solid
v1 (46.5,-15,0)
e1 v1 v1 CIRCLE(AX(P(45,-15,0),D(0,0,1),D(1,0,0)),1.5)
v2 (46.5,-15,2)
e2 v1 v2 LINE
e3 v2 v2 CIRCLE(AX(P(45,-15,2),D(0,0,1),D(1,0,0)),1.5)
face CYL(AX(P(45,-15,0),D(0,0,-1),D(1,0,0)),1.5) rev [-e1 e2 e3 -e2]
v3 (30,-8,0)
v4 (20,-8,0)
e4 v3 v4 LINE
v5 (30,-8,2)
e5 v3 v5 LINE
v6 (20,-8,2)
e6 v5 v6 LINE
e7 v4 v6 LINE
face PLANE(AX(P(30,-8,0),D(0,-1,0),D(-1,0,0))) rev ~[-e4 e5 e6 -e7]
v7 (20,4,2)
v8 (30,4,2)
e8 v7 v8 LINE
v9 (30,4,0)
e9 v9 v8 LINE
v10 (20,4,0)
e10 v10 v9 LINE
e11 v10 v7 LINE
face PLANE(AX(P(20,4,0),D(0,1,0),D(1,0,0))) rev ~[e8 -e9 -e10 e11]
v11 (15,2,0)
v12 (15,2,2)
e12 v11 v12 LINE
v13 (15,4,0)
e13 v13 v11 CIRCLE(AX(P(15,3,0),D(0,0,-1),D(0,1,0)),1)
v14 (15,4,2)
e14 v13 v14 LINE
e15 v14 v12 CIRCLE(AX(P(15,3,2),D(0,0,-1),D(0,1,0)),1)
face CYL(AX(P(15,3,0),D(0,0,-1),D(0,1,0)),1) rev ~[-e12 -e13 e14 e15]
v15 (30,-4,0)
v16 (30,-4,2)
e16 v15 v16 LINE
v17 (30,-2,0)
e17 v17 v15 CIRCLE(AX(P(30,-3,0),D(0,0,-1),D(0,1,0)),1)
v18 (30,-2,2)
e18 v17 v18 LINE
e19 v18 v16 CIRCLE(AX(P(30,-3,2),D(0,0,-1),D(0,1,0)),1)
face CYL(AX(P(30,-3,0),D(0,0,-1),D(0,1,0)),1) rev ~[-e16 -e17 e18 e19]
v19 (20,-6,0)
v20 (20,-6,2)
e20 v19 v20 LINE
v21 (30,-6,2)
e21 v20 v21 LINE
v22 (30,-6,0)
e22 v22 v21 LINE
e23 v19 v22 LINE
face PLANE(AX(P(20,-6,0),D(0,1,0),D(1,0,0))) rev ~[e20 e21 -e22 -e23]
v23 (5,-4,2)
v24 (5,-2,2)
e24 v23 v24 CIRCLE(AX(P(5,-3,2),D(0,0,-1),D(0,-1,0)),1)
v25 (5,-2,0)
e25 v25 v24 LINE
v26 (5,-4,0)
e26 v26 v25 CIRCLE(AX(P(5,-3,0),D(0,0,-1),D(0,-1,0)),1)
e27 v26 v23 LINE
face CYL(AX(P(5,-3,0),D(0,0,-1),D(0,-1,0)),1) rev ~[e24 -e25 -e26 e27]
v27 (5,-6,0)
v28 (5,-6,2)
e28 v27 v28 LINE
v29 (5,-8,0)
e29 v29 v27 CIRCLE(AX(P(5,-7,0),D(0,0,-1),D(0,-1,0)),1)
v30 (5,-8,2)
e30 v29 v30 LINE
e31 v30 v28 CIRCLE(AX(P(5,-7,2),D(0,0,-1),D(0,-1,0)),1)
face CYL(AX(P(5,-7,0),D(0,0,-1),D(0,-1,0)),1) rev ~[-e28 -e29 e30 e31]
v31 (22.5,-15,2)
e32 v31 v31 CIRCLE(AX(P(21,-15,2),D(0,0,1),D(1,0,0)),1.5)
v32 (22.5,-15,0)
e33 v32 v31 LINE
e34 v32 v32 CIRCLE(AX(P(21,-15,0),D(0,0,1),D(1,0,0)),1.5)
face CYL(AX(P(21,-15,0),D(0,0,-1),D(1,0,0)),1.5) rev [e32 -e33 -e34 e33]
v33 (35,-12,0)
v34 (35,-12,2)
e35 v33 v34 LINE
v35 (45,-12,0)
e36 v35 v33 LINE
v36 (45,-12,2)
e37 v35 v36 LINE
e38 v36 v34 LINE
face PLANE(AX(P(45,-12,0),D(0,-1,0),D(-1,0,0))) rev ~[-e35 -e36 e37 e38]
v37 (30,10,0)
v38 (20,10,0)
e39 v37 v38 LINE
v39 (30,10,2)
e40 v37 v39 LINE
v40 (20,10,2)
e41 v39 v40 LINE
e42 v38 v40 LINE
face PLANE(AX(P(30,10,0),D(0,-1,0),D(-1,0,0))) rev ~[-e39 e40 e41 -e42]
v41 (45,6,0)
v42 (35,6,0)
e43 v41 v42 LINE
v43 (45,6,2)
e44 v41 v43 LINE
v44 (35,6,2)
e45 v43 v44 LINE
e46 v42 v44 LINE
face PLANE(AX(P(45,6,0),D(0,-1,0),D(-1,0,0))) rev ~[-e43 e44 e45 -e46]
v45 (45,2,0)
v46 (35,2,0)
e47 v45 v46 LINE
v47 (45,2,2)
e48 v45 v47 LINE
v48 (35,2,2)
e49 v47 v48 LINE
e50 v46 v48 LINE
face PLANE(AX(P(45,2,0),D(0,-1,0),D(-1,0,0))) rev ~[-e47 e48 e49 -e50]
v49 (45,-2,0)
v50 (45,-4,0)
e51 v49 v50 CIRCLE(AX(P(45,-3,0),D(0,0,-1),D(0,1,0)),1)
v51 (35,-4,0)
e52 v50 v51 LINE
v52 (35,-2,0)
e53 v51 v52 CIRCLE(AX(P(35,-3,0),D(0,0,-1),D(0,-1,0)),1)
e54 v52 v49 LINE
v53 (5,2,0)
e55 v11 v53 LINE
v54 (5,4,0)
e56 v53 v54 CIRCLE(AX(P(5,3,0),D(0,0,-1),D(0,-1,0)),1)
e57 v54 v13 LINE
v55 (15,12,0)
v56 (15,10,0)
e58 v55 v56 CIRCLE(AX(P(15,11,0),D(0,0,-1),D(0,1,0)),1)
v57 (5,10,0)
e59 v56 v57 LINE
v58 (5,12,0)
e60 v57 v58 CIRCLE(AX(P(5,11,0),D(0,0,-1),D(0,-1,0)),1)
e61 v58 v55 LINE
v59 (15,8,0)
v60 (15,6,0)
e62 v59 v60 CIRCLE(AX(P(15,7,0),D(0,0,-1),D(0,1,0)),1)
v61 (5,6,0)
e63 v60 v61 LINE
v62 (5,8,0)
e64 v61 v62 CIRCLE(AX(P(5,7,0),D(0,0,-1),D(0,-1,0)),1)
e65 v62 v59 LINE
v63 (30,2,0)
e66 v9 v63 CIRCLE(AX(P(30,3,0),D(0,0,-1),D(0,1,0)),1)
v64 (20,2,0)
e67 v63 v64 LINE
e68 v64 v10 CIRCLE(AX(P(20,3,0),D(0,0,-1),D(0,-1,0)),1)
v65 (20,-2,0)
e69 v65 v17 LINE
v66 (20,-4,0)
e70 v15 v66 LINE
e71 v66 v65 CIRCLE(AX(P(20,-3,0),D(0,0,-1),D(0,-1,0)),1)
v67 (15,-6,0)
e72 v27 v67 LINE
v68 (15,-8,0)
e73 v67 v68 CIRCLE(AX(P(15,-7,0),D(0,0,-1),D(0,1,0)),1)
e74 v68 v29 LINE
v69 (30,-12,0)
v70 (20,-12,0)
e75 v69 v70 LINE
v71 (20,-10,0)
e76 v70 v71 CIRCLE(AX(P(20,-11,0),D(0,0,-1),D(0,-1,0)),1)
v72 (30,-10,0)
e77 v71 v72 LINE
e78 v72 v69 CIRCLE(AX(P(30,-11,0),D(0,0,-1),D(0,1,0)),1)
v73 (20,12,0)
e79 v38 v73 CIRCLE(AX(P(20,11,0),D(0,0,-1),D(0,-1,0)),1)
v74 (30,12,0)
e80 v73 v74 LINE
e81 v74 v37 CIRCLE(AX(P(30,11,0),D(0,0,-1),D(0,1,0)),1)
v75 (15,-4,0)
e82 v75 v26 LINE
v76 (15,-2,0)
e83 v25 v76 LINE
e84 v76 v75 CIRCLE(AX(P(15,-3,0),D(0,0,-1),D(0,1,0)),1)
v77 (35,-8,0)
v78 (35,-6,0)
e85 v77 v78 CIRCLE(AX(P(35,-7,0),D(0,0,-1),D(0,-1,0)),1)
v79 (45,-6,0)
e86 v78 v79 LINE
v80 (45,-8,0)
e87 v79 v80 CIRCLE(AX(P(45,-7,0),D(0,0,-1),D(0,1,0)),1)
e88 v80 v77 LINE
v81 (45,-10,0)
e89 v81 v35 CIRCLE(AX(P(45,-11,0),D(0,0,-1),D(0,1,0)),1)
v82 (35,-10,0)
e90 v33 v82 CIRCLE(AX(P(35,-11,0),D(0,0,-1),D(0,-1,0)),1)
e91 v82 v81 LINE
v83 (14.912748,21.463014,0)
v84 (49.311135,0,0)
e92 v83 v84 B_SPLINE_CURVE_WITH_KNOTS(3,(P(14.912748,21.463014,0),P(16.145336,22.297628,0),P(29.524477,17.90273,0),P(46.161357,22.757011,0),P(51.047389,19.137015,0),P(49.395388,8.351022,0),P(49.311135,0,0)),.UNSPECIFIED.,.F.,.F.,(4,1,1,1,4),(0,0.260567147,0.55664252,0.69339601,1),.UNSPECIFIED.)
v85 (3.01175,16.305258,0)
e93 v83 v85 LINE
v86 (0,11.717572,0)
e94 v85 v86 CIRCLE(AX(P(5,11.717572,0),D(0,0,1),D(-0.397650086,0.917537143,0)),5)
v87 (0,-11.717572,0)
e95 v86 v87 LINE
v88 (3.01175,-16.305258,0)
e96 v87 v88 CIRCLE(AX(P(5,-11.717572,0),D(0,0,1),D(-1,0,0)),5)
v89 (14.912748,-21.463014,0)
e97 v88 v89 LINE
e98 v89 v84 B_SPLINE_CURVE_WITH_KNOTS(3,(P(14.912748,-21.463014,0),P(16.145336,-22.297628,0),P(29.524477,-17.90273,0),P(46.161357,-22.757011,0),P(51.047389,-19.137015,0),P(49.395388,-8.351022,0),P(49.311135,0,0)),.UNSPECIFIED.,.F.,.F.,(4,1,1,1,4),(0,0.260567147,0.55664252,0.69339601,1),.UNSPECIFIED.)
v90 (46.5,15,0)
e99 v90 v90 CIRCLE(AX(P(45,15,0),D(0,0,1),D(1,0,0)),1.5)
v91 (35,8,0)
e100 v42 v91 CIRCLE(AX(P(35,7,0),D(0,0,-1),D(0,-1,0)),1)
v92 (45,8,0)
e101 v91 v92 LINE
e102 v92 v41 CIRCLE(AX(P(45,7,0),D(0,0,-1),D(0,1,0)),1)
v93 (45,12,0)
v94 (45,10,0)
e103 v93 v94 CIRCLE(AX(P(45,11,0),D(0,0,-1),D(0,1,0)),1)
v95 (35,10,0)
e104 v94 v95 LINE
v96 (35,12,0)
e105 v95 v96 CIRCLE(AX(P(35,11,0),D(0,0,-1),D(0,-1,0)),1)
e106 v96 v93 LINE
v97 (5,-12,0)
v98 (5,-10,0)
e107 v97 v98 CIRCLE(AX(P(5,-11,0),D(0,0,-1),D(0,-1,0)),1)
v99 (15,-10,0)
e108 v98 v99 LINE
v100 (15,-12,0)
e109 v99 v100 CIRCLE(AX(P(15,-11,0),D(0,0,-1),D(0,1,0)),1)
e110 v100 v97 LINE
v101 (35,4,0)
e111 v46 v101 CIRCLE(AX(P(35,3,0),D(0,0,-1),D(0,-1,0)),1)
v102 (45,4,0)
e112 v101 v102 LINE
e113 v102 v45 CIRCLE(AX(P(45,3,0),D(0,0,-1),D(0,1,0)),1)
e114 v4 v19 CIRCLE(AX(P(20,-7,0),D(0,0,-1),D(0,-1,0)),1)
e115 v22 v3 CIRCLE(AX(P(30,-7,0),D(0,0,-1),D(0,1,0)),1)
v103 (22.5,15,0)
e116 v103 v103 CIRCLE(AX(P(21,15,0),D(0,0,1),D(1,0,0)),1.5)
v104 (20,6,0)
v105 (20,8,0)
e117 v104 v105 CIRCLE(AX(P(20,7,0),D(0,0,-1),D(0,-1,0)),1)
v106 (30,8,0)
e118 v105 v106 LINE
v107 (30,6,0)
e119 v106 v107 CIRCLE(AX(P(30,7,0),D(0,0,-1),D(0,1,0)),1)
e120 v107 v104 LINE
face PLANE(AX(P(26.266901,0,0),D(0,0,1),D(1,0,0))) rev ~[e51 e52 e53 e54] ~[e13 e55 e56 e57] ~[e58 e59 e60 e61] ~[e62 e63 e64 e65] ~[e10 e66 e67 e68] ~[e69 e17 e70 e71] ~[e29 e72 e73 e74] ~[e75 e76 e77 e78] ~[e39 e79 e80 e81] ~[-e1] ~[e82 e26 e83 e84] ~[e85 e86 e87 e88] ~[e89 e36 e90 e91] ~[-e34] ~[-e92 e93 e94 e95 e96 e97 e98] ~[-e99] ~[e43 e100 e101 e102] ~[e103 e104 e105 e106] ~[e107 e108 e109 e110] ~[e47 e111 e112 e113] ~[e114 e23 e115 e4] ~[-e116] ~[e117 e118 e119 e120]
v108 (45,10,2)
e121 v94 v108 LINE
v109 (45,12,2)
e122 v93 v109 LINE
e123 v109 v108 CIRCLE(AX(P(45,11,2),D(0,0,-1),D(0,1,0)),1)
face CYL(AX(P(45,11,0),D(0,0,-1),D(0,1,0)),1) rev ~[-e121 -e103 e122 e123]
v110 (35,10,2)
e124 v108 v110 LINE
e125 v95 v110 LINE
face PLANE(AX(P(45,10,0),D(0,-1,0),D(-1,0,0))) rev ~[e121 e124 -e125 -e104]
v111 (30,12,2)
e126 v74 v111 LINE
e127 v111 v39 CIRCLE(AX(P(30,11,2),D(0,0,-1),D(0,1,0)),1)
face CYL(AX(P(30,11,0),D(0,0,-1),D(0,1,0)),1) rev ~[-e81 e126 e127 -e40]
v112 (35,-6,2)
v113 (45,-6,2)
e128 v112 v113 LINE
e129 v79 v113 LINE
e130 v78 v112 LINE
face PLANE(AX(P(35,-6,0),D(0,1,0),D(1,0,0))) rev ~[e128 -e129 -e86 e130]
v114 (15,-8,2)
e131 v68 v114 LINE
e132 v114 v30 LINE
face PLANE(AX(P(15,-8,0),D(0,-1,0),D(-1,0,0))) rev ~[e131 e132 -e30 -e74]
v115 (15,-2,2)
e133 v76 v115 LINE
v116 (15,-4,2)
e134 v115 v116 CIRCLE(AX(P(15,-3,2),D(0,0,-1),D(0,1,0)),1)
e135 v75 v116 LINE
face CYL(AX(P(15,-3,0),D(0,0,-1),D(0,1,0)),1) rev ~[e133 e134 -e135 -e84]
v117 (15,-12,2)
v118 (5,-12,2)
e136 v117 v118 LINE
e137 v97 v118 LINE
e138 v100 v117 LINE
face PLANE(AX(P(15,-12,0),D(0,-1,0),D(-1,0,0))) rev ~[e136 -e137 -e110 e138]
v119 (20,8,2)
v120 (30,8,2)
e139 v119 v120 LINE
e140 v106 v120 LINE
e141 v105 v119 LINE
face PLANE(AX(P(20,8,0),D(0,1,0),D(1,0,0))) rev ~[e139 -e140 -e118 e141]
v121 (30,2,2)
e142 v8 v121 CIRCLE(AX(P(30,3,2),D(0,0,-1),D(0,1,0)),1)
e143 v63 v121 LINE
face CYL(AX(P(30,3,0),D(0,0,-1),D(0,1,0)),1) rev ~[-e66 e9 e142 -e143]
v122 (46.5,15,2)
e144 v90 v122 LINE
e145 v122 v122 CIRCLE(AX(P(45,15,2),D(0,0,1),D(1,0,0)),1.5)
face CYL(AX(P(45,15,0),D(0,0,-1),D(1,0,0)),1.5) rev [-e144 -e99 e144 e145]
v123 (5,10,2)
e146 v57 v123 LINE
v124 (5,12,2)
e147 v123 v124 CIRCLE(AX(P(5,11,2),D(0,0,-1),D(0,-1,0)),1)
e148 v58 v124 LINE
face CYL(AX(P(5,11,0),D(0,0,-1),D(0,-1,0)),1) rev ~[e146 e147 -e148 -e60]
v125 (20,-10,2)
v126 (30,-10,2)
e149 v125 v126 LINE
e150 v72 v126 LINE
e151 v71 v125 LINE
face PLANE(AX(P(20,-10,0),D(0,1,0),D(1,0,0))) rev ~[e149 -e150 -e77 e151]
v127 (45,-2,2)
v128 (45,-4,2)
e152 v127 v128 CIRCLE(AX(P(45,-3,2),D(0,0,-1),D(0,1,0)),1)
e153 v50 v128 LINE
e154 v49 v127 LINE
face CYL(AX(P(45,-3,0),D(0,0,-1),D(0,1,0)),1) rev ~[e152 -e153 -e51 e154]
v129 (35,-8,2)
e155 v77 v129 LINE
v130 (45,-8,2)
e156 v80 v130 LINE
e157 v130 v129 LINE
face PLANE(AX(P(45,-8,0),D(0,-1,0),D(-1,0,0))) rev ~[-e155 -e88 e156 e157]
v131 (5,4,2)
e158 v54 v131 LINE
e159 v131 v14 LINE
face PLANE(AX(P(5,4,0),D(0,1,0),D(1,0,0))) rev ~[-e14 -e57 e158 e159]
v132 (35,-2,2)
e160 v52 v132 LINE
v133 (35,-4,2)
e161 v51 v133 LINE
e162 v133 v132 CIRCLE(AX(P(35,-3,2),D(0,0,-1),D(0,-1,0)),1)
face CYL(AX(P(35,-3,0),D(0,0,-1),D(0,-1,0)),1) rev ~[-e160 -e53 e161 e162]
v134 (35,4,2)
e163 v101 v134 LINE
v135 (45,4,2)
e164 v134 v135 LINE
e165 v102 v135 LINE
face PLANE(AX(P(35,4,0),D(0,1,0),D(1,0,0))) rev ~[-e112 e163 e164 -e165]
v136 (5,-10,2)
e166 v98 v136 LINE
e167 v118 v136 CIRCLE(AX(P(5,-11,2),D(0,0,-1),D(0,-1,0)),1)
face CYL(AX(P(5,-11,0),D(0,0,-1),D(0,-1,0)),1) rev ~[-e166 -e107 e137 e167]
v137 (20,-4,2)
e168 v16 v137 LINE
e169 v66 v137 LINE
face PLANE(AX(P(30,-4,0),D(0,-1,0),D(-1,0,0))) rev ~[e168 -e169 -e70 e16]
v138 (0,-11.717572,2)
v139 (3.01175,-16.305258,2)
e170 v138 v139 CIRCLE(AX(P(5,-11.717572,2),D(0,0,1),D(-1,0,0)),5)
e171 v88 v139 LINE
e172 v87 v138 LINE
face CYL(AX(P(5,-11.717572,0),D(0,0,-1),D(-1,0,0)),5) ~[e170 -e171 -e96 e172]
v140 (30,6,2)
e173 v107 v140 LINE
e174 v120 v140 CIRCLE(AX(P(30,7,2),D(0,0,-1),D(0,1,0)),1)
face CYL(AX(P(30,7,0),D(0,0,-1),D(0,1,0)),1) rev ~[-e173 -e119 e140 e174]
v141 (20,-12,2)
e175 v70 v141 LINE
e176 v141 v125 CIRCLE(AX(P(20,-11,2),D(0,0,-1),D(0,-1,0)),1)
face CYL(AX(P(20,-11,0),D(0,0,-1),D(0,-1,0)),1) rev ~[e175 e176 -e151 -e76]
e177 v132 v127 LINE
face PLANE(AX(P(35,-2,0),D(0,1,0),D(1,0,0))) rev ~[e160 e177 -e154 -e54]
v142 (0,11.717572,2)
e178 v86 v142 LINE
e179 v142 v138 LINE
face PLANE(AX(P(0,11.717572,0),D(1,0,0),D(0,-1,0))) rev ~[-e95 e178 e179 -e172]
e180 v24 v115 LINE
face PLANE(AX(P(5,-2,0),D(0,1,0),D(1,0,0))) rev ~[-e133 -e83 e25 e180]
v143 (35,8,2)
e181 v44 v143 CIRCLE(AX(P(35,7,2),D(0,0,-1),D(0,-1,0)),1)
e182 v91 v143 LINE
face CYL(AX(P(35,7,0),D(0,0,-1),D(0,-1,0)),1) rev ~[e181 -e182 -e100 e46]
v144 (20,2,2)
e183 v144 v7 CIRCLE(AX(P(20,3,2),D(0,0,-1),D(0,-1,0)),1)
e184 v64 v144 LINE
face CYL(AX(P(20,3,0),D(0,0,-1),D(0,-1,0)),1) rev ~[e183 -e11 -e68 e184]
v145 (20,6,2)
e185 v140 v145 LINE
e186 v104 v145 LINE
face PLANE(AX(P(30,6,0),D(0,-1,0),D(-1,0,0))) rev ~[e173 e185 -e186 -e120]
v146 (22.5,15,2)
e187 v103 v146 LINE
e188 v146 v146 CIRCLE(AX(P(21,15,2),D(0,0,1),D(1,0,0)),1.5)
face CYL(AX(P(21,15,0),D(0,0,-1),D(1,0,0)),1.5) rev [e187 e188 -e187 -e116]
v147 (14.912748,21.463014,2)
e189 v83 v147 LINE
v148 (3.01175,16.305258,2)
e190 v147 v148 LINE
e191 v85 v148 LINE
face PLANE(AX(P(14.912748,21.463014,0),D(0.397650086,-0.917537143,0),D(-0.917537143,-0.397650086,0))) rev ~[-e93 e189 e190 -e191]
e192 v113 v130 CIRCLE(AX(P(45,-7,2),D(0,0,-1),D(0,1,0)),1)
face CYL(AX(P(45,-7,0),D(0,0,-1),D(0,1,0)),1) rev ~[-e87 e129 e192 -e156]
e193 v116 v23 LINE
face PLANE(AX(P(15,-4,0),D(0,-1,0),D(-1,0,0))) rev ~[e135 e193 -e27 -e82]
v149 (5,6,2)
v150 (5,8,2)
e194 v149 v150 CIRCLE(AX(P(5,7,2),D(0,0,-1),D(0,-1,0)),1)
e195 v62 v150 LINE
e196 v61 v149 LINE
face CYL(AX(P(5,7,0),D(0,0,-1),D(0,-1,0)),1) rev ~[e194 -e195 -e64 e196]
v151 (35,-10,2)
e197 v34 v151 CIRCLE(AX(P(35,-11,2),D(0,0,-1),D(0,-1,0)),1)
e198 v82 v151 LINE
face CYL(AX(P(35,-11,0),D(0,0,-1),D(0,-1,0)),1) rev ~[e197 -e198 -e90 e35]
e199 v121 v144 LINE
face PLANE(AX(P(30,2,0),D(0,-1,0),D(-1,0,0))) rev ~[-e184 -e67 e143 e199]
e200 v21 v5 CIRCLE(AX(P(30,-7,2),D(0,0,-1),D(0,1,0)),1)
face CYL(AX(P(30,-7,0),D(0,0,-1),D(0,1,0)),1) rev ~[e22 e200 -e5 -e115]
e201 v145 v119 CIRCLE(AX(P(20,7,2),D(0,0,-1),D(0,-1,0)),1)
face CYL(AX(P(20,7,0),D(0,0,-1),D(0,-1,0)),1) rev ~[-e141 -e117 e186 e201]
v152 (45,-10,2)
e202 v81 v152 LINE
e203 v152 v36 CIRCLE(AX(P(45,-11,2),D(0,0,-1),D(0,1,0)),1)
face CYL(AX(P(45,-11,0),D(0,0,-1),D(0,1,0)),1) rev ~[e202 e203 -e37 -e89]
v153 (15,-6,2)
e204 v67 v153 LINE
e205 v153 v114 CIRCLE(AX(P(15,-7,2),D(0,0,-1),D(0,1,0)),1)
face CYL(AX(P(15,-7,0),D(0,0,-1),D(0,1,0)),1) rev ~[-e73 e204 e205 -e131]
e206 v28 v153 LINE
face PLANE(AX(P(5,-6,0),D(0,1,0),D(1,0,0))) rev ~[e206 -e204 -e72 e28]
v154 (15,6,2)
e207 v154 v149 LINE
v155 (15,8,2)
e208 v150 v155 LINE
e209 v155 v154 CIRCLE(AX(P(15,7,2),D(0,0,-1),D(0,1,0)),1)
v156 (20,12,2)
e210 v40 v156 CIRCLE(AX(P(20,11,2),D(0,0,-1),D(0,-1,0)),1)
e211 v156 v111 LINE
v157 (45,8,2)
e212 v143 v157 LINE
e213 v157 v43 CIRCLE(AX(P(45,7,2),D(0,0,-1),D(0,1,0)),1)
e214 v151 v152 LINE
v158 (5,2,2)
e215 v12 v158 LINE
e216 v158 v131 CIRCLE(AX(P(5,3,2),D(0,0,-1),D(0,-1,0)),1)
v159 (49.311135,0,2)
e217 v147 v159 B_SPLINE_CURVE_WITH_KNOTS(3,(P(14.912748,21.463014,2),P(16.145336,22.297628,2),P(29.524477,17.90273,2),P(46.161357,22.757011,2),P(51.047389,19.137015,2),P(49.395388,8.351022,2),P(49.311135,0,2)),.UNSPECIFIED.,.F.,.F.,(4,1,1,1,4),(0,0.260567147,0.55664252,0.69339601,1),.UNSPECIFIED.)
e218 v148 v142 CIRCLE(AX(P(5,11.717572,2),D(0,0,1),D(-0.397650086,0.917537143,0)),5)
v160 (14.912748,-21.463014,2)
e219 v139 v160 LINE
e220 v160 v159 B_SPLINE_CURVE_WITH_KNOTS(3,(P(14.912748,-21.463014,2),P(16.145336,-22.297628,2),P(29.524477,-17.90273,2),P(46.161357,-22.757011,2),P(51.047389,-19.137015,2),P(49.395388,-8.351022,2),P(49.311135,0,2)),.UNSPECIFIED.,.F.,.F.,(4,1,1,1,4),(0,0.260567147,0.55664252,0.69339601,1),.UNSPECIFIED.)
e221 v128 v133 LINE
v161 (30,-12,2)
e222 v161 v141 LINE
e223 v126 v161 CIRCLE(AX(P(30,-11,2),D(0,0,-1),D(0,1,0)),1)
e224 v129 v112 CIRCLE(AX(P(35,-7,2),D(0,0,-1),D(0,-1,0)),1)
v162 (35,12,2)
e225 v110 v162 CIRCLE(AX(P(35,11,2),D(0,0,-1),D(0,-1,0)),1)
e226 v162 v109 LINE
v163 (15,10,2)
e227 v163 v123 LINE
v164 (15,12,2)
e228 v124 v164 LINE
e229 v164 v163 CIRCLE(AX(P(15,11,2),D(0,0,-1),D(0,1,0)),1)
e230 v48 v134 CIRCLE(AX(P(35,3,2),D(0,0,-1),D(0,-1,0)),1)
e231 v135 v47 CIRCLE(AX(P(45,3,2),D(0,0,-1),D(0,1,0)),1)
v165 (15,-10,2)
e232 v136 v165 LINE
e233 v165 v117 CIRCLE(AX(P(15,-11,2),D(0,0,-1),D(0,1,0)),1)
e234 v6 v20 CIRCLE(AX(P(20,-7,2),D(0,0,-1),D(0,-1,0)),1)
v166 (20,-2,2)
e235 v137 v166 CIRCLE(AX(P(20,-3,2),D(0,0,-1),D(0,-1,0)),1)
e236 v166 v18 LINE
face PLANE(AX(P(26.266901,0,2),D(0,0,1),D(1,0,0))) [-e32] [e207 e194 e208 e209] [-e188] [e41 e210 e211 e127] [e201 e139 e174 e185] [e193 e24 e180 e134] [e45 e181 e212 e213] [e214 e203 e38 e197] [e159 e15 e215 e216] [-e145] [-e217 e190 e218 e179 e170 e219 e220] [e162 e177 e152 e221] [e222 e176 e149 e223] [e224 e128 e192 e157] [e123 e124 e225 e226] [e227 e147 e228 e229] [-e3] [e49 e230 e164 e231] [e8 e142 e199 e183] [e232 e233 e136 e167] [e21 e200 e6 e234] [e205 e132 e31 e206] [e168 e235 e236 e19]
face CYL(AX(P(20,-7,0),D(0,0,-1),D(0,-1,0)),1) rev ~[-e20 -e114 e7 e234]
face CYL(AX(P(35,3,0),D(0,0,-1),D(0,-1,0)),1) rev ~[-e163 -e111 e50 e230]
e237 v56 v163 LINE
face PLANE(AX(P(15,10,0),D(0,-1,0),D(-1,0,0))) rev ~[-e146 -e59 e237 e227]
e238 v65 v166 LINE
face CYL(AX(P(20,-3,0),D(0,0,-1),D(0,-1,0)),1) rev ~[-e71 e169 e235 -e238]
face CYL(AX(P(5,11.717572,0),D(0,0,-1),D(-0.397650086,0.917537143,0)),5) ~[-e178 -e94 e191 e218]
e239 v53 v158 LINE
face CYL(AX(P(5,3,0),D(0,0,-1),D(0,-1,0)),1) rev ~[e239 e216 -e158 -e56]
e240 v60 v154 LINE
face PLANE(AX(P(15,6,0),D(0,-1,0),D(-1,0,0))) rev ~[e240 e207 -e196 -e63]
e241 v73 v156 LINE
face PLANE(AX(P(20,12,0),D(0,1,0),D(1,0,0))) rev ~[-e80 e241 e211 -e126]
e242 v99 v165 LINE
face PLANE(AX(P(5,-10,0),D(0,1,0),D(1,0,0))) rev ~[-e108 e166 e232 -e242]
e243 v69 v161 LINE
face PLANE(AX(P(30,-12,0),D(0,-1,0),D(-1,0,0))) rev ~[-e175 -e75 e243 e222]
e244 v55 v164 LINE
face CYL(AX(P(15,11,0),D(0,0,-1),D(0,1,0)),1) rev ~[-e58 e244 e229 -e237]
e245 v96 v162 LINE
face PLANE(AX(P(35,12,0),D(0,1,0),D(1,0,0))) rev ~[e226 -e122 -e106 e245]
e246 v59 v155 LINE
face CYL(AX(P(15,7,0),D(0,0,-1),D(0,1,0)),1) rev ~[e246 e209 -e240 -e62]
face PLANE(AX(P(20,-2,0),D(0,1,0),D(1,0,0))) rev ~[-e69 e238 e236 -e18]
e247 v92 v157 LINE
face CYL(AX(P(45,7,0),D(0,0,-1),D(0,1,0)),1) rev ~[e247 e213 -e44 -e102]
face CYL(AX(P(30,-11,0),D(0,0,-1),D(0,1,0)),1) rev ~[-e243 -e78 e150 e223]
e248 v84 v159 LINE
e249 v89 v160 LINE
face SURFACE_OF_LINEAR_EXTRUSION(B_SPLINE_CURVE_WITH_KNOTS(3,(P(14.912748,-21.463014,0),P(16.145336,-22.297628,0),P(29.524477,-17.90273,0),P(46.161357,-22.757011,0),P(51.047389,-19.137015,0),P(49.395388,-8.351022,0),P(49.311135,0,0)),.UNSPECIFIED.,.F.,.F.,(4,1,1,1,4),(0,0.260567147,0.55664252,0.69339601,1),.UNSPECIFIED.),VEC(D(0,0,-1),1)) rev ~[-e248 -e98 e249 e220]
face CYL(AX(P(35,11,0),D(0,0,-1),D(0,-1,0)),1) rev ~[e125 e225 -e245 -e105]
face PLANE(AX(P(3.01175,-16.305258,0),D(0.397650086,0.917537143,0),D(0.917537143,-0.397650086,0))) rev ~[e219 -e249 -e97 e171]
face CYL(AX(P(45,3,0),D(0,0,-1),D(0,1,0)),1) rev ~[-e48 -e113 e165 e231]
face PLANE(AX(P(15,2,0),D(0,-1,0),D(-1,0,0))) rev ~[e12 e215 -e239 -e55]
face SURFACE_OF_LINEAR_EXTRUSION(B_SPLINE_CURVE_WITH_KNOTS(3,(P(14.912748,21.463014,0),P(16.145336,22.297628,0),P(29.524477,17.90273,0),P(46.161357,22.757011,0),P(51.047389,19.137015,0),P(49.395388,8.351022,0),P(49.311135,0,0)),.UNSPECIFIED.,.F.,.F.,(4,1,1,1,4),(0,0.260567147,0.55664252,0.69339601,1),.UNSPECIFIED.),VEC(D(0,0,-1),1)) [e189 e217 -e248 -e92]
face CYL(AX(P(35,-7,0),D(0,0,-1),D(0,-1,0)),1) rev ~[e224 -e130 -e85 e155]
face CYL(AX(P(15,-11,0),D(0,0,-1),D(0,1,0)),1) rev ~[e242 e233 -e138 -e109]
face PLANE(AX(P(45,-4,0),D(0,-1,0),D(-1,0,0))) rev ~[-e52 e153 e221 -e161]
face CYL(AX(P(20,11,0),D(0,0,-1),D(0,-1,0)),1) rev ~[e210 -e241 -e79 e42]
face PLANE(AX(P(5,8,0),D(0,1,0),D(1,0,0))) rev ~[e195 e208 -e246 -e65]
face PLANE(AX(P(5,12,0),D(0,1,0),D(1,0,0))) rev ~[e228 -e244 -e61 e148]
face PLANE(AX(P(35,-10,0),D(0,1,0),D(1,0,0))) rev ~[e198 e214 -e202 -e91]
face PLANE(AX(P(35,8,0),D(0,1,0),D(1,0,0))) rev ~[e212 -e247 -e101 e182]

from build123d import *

# Parameters (mm, degrees)
F0_R     = 1.5
F1_DEPTH = 2


with BuildPart() as f1:
    # F0 (on Top) → F1 (new body)
    with BuildSketch(Plane.XY):
        with BuildLine():
            Line((0, 11.7175720427), (0, 0))
            Line((0, 0), (0, -11.7175720427))
            ThreePointArc((0, -11.7175720427), (0.8202121976, -14.4615425103), (3.0117495709, -16.3052577589))
            Line((3.0117495709, -16.3052577589), (14.9127481269, -21.4630141854))
            add(Edge.make_bspline(
                [(14.9127481269, -21.4630141854), (16.1453362968, -22.2976284899), (29.5244774137, -17.90273041), (46.1613565745, -22.7570107884), (51.0473894194, -19.1370147499), (49.3953875501, -8.3510216523), (49.3111349642, 0)],
                knots=[0, 0, 0, 0, 0.260567147, 0.5566425204, 0.6933960099, 1, 1, 1, 1], degree=3))
            add(Edge.make_bspline(
                [(14.9127481269, 21.4630141854), (16.1453362968, 22.2976284899), (29.5244774137, 17.90273041), (46.1613565745, 22.7570107884), (51.0473894194, 19.1370147499), (49.3953875501, 8.3510216523), (49.3111349642, 0)],
                knots=[0, 0, 0, 0, 0.260567147, 0.5566425204, 0.6933960099, 1, 1, 1, 1], degree=3))
            Line((14.9127481269, 21.4630141854), (3.0117495709, 16.3052577589))
            ThreePointArc((3.0117495709, 16.3052577589), (0.8202121976, 14.4615425103), (0, 11.7175720427))
        make_face()
        with Locations((21, -15)):
            Circle(F0_R, mode=Mode.SUBTRACT)
        with BuildLine():
            Line((15, -12), (5, -12))
            ThreePointArc((5, -12), (4, -11), (5, -10))
            Line((5, -10), (15, -10))
            ThreePointArc((15, -10), (16, -11), (15, -12))
        make_face(mode=Mode.SUBTRACT)
        with BuildLine():
            Line((15, -8), (5, -8))
            ThreePointArc((5, -8), (4, -7), (5, -6))
            Line((5, -6), (15, -6))
            ThreePointArc((15, -6), (16, -7), (15, -8))
        make_face(mode=Mode.SUBTRACT)
        with BuildLine():
            Line((15, -4), (5, -4))
            ThreePointArc((5, -4), (4, -3), (5, -2))
            Line((5, -2), (15, -2))
            ThreePointArc((15, -2), (16, -3), (15, -4))
        make_face(mode=Mode.SUBTRACT)
        with BuildLine():
            Line((30, -12), (20, -12))
            ThreePointArc((20, -12), (19, -11), (20, -10))
            Line((20, -10), (30, -10))
            ThreePointArc((30, -10), (31, -11), (30, -12))
        make_face(mode=Mode.SUBTRACT)
        with BuildLine():
            Line((30, -8), (20, -8))
            ThreePointArc((20, -8), (19, -7), (20, -6))
            Line((20, -6), (30, -6))
            ThreePointArc((30, -6), (31, -7), (30, -8))
        make_face(mode=Mode.SUBTRACT)
        with BuildLine():
            Line((30, -4), (20, -4))
            ThreePointArc((20, -4), (19, -3), (20, -2))
            Line((20, -2), (30, -2))
            ThreePointArc((30, -2), (31, -3), (30, -4))
        make_face(mode=Mode.SUBTRACT)
        with Locations((45, -15)):
            Circle(F0_R, mode=Mode.SUBTRACT)
        with BuildLine():
            Line((45, -12), (35, -12))
            ThreePointArc((35, -12), (34, -11), (35, -10))
            Line((35, -10), (45, -10))
            ThreePointArc((45, -10), (46, -11), (45, -12))
        make_face(mode=Mode.SUBTRACT)
        with BuildLine():
            Line((45, -8), (35, -8))
            ThreePointArc((35, -8), (34, -7), (35, -6))
            Line((35, -6), (45, -6))
            ThreePointArc((45, -6), (46, -7), (45, -8))
        make_face(mode=Mode.SUBTRACT)
        with BuildLine():
            Line((45, -4), (35, -4))
            ThreePointArc((35, -4), (34, -3), (35, -2))
            Line((35, -2), (45, -2))
            ThreePointArc((45, -2), (46, -3), (45, -4))
        make_face(mode=Mode.SUBTRACT)
        with BuildLine():
            ThreePointArc((5, 2), (4, 3), (5, 4))
            Line((5, 4), (15, 4))
            ThreePointArc((15, 4), (16, 3), (15, 2))
            Line((15, 2), (5, 2))
        make_face(mode=Mode.SUBTRACT)
        with BuildLine():
            ThreePointArc((5, 6), (4, 7), (5, 8))
            Line((5, 8), (15, 8))
            ThreePointArc((15, 8), (16, 7), (15, 6))
            Line((15, 6), (5, 6))
        make_face(mode=Mode.SUBTRACT)
        with BuildLine():
            ThreePointArc((15, 12), (16, 11), (15, 10))
            Line((15, 10), (5, 10))
            ThreePointArc((5, 10), (4, 11), (5, 12))
            Line((5, 12), (15, 12))
        make_face(mode=Mode.SUBTRACT)
        with BuildLine():
            ThreePointArc((20, 2), (19, 3), (20, 4))
            Line((20, 4), (30, 4))
            ThreePointArc((30, 4), (31, 3), (30, 2))
            Line((30, 2), (20, 2))
        make_face(mode=Mode.SUBTRACT)
        with BuildLine():
            Line((30, 6), (20, 6))
            ThreePointArc((20, 6), (19, 7), (20, 8))
            Line((20, 8), (30, 8))
            ThreePointArc((30, 8), (31, 7), (30, 6))
        make_face(mode=Mode.SUBTRACT)
        with BuildLine():
            ThreePointArc((20, 10), (19, 11), (20, 12))
            Line((20, 12), (30, 12))
            ThreePointArc((30, 12), (31, 11), (30, 10))
            Line((30, 10), (20, 10))
        make_face(mode=Mode.SUBTRACT)
        with Locations((21, 15)):
            Circle(F0_R, mode=Mode.SUBTRACT)
        with BuildLine():
            ThreePointArc((45, 4), (46, 3), (45, 2))
            Line((45, 2), (35, 2))
            ThreePointArc((35, 2), (34, 3), (35, 4))
            Line((35, 4), (45, 4))
        make_face(mode=Mode.SUBTRACT)
        with BuildLine():
            ThreePointArc((35, 6), (34, 7), (35, 8))
            Line((35, 8), (45, 8))
            ThreePointArc((45, 8), (46, 7), (45, 6))
            Line((45, 6), (35, 6))
        make_face(mode=Mode.SUBTRACT)
        with BuildLine():
            ThreePointArc((45, 12), (46, 11), (45, 10))
            Line((45, 10), (35, 10))
            ThreePointArc((35, 10), (34, 11), (35, 12))
            Line((35, 12), (45, 12))
        make_face(mode=Mode.SUBTRACT)
        with Locations((45, 15)):
            Circle(F0_R, mode=Mode.SUBTRACT)
    extrude(amount=F1_DEPTH)


solid = f1.part
